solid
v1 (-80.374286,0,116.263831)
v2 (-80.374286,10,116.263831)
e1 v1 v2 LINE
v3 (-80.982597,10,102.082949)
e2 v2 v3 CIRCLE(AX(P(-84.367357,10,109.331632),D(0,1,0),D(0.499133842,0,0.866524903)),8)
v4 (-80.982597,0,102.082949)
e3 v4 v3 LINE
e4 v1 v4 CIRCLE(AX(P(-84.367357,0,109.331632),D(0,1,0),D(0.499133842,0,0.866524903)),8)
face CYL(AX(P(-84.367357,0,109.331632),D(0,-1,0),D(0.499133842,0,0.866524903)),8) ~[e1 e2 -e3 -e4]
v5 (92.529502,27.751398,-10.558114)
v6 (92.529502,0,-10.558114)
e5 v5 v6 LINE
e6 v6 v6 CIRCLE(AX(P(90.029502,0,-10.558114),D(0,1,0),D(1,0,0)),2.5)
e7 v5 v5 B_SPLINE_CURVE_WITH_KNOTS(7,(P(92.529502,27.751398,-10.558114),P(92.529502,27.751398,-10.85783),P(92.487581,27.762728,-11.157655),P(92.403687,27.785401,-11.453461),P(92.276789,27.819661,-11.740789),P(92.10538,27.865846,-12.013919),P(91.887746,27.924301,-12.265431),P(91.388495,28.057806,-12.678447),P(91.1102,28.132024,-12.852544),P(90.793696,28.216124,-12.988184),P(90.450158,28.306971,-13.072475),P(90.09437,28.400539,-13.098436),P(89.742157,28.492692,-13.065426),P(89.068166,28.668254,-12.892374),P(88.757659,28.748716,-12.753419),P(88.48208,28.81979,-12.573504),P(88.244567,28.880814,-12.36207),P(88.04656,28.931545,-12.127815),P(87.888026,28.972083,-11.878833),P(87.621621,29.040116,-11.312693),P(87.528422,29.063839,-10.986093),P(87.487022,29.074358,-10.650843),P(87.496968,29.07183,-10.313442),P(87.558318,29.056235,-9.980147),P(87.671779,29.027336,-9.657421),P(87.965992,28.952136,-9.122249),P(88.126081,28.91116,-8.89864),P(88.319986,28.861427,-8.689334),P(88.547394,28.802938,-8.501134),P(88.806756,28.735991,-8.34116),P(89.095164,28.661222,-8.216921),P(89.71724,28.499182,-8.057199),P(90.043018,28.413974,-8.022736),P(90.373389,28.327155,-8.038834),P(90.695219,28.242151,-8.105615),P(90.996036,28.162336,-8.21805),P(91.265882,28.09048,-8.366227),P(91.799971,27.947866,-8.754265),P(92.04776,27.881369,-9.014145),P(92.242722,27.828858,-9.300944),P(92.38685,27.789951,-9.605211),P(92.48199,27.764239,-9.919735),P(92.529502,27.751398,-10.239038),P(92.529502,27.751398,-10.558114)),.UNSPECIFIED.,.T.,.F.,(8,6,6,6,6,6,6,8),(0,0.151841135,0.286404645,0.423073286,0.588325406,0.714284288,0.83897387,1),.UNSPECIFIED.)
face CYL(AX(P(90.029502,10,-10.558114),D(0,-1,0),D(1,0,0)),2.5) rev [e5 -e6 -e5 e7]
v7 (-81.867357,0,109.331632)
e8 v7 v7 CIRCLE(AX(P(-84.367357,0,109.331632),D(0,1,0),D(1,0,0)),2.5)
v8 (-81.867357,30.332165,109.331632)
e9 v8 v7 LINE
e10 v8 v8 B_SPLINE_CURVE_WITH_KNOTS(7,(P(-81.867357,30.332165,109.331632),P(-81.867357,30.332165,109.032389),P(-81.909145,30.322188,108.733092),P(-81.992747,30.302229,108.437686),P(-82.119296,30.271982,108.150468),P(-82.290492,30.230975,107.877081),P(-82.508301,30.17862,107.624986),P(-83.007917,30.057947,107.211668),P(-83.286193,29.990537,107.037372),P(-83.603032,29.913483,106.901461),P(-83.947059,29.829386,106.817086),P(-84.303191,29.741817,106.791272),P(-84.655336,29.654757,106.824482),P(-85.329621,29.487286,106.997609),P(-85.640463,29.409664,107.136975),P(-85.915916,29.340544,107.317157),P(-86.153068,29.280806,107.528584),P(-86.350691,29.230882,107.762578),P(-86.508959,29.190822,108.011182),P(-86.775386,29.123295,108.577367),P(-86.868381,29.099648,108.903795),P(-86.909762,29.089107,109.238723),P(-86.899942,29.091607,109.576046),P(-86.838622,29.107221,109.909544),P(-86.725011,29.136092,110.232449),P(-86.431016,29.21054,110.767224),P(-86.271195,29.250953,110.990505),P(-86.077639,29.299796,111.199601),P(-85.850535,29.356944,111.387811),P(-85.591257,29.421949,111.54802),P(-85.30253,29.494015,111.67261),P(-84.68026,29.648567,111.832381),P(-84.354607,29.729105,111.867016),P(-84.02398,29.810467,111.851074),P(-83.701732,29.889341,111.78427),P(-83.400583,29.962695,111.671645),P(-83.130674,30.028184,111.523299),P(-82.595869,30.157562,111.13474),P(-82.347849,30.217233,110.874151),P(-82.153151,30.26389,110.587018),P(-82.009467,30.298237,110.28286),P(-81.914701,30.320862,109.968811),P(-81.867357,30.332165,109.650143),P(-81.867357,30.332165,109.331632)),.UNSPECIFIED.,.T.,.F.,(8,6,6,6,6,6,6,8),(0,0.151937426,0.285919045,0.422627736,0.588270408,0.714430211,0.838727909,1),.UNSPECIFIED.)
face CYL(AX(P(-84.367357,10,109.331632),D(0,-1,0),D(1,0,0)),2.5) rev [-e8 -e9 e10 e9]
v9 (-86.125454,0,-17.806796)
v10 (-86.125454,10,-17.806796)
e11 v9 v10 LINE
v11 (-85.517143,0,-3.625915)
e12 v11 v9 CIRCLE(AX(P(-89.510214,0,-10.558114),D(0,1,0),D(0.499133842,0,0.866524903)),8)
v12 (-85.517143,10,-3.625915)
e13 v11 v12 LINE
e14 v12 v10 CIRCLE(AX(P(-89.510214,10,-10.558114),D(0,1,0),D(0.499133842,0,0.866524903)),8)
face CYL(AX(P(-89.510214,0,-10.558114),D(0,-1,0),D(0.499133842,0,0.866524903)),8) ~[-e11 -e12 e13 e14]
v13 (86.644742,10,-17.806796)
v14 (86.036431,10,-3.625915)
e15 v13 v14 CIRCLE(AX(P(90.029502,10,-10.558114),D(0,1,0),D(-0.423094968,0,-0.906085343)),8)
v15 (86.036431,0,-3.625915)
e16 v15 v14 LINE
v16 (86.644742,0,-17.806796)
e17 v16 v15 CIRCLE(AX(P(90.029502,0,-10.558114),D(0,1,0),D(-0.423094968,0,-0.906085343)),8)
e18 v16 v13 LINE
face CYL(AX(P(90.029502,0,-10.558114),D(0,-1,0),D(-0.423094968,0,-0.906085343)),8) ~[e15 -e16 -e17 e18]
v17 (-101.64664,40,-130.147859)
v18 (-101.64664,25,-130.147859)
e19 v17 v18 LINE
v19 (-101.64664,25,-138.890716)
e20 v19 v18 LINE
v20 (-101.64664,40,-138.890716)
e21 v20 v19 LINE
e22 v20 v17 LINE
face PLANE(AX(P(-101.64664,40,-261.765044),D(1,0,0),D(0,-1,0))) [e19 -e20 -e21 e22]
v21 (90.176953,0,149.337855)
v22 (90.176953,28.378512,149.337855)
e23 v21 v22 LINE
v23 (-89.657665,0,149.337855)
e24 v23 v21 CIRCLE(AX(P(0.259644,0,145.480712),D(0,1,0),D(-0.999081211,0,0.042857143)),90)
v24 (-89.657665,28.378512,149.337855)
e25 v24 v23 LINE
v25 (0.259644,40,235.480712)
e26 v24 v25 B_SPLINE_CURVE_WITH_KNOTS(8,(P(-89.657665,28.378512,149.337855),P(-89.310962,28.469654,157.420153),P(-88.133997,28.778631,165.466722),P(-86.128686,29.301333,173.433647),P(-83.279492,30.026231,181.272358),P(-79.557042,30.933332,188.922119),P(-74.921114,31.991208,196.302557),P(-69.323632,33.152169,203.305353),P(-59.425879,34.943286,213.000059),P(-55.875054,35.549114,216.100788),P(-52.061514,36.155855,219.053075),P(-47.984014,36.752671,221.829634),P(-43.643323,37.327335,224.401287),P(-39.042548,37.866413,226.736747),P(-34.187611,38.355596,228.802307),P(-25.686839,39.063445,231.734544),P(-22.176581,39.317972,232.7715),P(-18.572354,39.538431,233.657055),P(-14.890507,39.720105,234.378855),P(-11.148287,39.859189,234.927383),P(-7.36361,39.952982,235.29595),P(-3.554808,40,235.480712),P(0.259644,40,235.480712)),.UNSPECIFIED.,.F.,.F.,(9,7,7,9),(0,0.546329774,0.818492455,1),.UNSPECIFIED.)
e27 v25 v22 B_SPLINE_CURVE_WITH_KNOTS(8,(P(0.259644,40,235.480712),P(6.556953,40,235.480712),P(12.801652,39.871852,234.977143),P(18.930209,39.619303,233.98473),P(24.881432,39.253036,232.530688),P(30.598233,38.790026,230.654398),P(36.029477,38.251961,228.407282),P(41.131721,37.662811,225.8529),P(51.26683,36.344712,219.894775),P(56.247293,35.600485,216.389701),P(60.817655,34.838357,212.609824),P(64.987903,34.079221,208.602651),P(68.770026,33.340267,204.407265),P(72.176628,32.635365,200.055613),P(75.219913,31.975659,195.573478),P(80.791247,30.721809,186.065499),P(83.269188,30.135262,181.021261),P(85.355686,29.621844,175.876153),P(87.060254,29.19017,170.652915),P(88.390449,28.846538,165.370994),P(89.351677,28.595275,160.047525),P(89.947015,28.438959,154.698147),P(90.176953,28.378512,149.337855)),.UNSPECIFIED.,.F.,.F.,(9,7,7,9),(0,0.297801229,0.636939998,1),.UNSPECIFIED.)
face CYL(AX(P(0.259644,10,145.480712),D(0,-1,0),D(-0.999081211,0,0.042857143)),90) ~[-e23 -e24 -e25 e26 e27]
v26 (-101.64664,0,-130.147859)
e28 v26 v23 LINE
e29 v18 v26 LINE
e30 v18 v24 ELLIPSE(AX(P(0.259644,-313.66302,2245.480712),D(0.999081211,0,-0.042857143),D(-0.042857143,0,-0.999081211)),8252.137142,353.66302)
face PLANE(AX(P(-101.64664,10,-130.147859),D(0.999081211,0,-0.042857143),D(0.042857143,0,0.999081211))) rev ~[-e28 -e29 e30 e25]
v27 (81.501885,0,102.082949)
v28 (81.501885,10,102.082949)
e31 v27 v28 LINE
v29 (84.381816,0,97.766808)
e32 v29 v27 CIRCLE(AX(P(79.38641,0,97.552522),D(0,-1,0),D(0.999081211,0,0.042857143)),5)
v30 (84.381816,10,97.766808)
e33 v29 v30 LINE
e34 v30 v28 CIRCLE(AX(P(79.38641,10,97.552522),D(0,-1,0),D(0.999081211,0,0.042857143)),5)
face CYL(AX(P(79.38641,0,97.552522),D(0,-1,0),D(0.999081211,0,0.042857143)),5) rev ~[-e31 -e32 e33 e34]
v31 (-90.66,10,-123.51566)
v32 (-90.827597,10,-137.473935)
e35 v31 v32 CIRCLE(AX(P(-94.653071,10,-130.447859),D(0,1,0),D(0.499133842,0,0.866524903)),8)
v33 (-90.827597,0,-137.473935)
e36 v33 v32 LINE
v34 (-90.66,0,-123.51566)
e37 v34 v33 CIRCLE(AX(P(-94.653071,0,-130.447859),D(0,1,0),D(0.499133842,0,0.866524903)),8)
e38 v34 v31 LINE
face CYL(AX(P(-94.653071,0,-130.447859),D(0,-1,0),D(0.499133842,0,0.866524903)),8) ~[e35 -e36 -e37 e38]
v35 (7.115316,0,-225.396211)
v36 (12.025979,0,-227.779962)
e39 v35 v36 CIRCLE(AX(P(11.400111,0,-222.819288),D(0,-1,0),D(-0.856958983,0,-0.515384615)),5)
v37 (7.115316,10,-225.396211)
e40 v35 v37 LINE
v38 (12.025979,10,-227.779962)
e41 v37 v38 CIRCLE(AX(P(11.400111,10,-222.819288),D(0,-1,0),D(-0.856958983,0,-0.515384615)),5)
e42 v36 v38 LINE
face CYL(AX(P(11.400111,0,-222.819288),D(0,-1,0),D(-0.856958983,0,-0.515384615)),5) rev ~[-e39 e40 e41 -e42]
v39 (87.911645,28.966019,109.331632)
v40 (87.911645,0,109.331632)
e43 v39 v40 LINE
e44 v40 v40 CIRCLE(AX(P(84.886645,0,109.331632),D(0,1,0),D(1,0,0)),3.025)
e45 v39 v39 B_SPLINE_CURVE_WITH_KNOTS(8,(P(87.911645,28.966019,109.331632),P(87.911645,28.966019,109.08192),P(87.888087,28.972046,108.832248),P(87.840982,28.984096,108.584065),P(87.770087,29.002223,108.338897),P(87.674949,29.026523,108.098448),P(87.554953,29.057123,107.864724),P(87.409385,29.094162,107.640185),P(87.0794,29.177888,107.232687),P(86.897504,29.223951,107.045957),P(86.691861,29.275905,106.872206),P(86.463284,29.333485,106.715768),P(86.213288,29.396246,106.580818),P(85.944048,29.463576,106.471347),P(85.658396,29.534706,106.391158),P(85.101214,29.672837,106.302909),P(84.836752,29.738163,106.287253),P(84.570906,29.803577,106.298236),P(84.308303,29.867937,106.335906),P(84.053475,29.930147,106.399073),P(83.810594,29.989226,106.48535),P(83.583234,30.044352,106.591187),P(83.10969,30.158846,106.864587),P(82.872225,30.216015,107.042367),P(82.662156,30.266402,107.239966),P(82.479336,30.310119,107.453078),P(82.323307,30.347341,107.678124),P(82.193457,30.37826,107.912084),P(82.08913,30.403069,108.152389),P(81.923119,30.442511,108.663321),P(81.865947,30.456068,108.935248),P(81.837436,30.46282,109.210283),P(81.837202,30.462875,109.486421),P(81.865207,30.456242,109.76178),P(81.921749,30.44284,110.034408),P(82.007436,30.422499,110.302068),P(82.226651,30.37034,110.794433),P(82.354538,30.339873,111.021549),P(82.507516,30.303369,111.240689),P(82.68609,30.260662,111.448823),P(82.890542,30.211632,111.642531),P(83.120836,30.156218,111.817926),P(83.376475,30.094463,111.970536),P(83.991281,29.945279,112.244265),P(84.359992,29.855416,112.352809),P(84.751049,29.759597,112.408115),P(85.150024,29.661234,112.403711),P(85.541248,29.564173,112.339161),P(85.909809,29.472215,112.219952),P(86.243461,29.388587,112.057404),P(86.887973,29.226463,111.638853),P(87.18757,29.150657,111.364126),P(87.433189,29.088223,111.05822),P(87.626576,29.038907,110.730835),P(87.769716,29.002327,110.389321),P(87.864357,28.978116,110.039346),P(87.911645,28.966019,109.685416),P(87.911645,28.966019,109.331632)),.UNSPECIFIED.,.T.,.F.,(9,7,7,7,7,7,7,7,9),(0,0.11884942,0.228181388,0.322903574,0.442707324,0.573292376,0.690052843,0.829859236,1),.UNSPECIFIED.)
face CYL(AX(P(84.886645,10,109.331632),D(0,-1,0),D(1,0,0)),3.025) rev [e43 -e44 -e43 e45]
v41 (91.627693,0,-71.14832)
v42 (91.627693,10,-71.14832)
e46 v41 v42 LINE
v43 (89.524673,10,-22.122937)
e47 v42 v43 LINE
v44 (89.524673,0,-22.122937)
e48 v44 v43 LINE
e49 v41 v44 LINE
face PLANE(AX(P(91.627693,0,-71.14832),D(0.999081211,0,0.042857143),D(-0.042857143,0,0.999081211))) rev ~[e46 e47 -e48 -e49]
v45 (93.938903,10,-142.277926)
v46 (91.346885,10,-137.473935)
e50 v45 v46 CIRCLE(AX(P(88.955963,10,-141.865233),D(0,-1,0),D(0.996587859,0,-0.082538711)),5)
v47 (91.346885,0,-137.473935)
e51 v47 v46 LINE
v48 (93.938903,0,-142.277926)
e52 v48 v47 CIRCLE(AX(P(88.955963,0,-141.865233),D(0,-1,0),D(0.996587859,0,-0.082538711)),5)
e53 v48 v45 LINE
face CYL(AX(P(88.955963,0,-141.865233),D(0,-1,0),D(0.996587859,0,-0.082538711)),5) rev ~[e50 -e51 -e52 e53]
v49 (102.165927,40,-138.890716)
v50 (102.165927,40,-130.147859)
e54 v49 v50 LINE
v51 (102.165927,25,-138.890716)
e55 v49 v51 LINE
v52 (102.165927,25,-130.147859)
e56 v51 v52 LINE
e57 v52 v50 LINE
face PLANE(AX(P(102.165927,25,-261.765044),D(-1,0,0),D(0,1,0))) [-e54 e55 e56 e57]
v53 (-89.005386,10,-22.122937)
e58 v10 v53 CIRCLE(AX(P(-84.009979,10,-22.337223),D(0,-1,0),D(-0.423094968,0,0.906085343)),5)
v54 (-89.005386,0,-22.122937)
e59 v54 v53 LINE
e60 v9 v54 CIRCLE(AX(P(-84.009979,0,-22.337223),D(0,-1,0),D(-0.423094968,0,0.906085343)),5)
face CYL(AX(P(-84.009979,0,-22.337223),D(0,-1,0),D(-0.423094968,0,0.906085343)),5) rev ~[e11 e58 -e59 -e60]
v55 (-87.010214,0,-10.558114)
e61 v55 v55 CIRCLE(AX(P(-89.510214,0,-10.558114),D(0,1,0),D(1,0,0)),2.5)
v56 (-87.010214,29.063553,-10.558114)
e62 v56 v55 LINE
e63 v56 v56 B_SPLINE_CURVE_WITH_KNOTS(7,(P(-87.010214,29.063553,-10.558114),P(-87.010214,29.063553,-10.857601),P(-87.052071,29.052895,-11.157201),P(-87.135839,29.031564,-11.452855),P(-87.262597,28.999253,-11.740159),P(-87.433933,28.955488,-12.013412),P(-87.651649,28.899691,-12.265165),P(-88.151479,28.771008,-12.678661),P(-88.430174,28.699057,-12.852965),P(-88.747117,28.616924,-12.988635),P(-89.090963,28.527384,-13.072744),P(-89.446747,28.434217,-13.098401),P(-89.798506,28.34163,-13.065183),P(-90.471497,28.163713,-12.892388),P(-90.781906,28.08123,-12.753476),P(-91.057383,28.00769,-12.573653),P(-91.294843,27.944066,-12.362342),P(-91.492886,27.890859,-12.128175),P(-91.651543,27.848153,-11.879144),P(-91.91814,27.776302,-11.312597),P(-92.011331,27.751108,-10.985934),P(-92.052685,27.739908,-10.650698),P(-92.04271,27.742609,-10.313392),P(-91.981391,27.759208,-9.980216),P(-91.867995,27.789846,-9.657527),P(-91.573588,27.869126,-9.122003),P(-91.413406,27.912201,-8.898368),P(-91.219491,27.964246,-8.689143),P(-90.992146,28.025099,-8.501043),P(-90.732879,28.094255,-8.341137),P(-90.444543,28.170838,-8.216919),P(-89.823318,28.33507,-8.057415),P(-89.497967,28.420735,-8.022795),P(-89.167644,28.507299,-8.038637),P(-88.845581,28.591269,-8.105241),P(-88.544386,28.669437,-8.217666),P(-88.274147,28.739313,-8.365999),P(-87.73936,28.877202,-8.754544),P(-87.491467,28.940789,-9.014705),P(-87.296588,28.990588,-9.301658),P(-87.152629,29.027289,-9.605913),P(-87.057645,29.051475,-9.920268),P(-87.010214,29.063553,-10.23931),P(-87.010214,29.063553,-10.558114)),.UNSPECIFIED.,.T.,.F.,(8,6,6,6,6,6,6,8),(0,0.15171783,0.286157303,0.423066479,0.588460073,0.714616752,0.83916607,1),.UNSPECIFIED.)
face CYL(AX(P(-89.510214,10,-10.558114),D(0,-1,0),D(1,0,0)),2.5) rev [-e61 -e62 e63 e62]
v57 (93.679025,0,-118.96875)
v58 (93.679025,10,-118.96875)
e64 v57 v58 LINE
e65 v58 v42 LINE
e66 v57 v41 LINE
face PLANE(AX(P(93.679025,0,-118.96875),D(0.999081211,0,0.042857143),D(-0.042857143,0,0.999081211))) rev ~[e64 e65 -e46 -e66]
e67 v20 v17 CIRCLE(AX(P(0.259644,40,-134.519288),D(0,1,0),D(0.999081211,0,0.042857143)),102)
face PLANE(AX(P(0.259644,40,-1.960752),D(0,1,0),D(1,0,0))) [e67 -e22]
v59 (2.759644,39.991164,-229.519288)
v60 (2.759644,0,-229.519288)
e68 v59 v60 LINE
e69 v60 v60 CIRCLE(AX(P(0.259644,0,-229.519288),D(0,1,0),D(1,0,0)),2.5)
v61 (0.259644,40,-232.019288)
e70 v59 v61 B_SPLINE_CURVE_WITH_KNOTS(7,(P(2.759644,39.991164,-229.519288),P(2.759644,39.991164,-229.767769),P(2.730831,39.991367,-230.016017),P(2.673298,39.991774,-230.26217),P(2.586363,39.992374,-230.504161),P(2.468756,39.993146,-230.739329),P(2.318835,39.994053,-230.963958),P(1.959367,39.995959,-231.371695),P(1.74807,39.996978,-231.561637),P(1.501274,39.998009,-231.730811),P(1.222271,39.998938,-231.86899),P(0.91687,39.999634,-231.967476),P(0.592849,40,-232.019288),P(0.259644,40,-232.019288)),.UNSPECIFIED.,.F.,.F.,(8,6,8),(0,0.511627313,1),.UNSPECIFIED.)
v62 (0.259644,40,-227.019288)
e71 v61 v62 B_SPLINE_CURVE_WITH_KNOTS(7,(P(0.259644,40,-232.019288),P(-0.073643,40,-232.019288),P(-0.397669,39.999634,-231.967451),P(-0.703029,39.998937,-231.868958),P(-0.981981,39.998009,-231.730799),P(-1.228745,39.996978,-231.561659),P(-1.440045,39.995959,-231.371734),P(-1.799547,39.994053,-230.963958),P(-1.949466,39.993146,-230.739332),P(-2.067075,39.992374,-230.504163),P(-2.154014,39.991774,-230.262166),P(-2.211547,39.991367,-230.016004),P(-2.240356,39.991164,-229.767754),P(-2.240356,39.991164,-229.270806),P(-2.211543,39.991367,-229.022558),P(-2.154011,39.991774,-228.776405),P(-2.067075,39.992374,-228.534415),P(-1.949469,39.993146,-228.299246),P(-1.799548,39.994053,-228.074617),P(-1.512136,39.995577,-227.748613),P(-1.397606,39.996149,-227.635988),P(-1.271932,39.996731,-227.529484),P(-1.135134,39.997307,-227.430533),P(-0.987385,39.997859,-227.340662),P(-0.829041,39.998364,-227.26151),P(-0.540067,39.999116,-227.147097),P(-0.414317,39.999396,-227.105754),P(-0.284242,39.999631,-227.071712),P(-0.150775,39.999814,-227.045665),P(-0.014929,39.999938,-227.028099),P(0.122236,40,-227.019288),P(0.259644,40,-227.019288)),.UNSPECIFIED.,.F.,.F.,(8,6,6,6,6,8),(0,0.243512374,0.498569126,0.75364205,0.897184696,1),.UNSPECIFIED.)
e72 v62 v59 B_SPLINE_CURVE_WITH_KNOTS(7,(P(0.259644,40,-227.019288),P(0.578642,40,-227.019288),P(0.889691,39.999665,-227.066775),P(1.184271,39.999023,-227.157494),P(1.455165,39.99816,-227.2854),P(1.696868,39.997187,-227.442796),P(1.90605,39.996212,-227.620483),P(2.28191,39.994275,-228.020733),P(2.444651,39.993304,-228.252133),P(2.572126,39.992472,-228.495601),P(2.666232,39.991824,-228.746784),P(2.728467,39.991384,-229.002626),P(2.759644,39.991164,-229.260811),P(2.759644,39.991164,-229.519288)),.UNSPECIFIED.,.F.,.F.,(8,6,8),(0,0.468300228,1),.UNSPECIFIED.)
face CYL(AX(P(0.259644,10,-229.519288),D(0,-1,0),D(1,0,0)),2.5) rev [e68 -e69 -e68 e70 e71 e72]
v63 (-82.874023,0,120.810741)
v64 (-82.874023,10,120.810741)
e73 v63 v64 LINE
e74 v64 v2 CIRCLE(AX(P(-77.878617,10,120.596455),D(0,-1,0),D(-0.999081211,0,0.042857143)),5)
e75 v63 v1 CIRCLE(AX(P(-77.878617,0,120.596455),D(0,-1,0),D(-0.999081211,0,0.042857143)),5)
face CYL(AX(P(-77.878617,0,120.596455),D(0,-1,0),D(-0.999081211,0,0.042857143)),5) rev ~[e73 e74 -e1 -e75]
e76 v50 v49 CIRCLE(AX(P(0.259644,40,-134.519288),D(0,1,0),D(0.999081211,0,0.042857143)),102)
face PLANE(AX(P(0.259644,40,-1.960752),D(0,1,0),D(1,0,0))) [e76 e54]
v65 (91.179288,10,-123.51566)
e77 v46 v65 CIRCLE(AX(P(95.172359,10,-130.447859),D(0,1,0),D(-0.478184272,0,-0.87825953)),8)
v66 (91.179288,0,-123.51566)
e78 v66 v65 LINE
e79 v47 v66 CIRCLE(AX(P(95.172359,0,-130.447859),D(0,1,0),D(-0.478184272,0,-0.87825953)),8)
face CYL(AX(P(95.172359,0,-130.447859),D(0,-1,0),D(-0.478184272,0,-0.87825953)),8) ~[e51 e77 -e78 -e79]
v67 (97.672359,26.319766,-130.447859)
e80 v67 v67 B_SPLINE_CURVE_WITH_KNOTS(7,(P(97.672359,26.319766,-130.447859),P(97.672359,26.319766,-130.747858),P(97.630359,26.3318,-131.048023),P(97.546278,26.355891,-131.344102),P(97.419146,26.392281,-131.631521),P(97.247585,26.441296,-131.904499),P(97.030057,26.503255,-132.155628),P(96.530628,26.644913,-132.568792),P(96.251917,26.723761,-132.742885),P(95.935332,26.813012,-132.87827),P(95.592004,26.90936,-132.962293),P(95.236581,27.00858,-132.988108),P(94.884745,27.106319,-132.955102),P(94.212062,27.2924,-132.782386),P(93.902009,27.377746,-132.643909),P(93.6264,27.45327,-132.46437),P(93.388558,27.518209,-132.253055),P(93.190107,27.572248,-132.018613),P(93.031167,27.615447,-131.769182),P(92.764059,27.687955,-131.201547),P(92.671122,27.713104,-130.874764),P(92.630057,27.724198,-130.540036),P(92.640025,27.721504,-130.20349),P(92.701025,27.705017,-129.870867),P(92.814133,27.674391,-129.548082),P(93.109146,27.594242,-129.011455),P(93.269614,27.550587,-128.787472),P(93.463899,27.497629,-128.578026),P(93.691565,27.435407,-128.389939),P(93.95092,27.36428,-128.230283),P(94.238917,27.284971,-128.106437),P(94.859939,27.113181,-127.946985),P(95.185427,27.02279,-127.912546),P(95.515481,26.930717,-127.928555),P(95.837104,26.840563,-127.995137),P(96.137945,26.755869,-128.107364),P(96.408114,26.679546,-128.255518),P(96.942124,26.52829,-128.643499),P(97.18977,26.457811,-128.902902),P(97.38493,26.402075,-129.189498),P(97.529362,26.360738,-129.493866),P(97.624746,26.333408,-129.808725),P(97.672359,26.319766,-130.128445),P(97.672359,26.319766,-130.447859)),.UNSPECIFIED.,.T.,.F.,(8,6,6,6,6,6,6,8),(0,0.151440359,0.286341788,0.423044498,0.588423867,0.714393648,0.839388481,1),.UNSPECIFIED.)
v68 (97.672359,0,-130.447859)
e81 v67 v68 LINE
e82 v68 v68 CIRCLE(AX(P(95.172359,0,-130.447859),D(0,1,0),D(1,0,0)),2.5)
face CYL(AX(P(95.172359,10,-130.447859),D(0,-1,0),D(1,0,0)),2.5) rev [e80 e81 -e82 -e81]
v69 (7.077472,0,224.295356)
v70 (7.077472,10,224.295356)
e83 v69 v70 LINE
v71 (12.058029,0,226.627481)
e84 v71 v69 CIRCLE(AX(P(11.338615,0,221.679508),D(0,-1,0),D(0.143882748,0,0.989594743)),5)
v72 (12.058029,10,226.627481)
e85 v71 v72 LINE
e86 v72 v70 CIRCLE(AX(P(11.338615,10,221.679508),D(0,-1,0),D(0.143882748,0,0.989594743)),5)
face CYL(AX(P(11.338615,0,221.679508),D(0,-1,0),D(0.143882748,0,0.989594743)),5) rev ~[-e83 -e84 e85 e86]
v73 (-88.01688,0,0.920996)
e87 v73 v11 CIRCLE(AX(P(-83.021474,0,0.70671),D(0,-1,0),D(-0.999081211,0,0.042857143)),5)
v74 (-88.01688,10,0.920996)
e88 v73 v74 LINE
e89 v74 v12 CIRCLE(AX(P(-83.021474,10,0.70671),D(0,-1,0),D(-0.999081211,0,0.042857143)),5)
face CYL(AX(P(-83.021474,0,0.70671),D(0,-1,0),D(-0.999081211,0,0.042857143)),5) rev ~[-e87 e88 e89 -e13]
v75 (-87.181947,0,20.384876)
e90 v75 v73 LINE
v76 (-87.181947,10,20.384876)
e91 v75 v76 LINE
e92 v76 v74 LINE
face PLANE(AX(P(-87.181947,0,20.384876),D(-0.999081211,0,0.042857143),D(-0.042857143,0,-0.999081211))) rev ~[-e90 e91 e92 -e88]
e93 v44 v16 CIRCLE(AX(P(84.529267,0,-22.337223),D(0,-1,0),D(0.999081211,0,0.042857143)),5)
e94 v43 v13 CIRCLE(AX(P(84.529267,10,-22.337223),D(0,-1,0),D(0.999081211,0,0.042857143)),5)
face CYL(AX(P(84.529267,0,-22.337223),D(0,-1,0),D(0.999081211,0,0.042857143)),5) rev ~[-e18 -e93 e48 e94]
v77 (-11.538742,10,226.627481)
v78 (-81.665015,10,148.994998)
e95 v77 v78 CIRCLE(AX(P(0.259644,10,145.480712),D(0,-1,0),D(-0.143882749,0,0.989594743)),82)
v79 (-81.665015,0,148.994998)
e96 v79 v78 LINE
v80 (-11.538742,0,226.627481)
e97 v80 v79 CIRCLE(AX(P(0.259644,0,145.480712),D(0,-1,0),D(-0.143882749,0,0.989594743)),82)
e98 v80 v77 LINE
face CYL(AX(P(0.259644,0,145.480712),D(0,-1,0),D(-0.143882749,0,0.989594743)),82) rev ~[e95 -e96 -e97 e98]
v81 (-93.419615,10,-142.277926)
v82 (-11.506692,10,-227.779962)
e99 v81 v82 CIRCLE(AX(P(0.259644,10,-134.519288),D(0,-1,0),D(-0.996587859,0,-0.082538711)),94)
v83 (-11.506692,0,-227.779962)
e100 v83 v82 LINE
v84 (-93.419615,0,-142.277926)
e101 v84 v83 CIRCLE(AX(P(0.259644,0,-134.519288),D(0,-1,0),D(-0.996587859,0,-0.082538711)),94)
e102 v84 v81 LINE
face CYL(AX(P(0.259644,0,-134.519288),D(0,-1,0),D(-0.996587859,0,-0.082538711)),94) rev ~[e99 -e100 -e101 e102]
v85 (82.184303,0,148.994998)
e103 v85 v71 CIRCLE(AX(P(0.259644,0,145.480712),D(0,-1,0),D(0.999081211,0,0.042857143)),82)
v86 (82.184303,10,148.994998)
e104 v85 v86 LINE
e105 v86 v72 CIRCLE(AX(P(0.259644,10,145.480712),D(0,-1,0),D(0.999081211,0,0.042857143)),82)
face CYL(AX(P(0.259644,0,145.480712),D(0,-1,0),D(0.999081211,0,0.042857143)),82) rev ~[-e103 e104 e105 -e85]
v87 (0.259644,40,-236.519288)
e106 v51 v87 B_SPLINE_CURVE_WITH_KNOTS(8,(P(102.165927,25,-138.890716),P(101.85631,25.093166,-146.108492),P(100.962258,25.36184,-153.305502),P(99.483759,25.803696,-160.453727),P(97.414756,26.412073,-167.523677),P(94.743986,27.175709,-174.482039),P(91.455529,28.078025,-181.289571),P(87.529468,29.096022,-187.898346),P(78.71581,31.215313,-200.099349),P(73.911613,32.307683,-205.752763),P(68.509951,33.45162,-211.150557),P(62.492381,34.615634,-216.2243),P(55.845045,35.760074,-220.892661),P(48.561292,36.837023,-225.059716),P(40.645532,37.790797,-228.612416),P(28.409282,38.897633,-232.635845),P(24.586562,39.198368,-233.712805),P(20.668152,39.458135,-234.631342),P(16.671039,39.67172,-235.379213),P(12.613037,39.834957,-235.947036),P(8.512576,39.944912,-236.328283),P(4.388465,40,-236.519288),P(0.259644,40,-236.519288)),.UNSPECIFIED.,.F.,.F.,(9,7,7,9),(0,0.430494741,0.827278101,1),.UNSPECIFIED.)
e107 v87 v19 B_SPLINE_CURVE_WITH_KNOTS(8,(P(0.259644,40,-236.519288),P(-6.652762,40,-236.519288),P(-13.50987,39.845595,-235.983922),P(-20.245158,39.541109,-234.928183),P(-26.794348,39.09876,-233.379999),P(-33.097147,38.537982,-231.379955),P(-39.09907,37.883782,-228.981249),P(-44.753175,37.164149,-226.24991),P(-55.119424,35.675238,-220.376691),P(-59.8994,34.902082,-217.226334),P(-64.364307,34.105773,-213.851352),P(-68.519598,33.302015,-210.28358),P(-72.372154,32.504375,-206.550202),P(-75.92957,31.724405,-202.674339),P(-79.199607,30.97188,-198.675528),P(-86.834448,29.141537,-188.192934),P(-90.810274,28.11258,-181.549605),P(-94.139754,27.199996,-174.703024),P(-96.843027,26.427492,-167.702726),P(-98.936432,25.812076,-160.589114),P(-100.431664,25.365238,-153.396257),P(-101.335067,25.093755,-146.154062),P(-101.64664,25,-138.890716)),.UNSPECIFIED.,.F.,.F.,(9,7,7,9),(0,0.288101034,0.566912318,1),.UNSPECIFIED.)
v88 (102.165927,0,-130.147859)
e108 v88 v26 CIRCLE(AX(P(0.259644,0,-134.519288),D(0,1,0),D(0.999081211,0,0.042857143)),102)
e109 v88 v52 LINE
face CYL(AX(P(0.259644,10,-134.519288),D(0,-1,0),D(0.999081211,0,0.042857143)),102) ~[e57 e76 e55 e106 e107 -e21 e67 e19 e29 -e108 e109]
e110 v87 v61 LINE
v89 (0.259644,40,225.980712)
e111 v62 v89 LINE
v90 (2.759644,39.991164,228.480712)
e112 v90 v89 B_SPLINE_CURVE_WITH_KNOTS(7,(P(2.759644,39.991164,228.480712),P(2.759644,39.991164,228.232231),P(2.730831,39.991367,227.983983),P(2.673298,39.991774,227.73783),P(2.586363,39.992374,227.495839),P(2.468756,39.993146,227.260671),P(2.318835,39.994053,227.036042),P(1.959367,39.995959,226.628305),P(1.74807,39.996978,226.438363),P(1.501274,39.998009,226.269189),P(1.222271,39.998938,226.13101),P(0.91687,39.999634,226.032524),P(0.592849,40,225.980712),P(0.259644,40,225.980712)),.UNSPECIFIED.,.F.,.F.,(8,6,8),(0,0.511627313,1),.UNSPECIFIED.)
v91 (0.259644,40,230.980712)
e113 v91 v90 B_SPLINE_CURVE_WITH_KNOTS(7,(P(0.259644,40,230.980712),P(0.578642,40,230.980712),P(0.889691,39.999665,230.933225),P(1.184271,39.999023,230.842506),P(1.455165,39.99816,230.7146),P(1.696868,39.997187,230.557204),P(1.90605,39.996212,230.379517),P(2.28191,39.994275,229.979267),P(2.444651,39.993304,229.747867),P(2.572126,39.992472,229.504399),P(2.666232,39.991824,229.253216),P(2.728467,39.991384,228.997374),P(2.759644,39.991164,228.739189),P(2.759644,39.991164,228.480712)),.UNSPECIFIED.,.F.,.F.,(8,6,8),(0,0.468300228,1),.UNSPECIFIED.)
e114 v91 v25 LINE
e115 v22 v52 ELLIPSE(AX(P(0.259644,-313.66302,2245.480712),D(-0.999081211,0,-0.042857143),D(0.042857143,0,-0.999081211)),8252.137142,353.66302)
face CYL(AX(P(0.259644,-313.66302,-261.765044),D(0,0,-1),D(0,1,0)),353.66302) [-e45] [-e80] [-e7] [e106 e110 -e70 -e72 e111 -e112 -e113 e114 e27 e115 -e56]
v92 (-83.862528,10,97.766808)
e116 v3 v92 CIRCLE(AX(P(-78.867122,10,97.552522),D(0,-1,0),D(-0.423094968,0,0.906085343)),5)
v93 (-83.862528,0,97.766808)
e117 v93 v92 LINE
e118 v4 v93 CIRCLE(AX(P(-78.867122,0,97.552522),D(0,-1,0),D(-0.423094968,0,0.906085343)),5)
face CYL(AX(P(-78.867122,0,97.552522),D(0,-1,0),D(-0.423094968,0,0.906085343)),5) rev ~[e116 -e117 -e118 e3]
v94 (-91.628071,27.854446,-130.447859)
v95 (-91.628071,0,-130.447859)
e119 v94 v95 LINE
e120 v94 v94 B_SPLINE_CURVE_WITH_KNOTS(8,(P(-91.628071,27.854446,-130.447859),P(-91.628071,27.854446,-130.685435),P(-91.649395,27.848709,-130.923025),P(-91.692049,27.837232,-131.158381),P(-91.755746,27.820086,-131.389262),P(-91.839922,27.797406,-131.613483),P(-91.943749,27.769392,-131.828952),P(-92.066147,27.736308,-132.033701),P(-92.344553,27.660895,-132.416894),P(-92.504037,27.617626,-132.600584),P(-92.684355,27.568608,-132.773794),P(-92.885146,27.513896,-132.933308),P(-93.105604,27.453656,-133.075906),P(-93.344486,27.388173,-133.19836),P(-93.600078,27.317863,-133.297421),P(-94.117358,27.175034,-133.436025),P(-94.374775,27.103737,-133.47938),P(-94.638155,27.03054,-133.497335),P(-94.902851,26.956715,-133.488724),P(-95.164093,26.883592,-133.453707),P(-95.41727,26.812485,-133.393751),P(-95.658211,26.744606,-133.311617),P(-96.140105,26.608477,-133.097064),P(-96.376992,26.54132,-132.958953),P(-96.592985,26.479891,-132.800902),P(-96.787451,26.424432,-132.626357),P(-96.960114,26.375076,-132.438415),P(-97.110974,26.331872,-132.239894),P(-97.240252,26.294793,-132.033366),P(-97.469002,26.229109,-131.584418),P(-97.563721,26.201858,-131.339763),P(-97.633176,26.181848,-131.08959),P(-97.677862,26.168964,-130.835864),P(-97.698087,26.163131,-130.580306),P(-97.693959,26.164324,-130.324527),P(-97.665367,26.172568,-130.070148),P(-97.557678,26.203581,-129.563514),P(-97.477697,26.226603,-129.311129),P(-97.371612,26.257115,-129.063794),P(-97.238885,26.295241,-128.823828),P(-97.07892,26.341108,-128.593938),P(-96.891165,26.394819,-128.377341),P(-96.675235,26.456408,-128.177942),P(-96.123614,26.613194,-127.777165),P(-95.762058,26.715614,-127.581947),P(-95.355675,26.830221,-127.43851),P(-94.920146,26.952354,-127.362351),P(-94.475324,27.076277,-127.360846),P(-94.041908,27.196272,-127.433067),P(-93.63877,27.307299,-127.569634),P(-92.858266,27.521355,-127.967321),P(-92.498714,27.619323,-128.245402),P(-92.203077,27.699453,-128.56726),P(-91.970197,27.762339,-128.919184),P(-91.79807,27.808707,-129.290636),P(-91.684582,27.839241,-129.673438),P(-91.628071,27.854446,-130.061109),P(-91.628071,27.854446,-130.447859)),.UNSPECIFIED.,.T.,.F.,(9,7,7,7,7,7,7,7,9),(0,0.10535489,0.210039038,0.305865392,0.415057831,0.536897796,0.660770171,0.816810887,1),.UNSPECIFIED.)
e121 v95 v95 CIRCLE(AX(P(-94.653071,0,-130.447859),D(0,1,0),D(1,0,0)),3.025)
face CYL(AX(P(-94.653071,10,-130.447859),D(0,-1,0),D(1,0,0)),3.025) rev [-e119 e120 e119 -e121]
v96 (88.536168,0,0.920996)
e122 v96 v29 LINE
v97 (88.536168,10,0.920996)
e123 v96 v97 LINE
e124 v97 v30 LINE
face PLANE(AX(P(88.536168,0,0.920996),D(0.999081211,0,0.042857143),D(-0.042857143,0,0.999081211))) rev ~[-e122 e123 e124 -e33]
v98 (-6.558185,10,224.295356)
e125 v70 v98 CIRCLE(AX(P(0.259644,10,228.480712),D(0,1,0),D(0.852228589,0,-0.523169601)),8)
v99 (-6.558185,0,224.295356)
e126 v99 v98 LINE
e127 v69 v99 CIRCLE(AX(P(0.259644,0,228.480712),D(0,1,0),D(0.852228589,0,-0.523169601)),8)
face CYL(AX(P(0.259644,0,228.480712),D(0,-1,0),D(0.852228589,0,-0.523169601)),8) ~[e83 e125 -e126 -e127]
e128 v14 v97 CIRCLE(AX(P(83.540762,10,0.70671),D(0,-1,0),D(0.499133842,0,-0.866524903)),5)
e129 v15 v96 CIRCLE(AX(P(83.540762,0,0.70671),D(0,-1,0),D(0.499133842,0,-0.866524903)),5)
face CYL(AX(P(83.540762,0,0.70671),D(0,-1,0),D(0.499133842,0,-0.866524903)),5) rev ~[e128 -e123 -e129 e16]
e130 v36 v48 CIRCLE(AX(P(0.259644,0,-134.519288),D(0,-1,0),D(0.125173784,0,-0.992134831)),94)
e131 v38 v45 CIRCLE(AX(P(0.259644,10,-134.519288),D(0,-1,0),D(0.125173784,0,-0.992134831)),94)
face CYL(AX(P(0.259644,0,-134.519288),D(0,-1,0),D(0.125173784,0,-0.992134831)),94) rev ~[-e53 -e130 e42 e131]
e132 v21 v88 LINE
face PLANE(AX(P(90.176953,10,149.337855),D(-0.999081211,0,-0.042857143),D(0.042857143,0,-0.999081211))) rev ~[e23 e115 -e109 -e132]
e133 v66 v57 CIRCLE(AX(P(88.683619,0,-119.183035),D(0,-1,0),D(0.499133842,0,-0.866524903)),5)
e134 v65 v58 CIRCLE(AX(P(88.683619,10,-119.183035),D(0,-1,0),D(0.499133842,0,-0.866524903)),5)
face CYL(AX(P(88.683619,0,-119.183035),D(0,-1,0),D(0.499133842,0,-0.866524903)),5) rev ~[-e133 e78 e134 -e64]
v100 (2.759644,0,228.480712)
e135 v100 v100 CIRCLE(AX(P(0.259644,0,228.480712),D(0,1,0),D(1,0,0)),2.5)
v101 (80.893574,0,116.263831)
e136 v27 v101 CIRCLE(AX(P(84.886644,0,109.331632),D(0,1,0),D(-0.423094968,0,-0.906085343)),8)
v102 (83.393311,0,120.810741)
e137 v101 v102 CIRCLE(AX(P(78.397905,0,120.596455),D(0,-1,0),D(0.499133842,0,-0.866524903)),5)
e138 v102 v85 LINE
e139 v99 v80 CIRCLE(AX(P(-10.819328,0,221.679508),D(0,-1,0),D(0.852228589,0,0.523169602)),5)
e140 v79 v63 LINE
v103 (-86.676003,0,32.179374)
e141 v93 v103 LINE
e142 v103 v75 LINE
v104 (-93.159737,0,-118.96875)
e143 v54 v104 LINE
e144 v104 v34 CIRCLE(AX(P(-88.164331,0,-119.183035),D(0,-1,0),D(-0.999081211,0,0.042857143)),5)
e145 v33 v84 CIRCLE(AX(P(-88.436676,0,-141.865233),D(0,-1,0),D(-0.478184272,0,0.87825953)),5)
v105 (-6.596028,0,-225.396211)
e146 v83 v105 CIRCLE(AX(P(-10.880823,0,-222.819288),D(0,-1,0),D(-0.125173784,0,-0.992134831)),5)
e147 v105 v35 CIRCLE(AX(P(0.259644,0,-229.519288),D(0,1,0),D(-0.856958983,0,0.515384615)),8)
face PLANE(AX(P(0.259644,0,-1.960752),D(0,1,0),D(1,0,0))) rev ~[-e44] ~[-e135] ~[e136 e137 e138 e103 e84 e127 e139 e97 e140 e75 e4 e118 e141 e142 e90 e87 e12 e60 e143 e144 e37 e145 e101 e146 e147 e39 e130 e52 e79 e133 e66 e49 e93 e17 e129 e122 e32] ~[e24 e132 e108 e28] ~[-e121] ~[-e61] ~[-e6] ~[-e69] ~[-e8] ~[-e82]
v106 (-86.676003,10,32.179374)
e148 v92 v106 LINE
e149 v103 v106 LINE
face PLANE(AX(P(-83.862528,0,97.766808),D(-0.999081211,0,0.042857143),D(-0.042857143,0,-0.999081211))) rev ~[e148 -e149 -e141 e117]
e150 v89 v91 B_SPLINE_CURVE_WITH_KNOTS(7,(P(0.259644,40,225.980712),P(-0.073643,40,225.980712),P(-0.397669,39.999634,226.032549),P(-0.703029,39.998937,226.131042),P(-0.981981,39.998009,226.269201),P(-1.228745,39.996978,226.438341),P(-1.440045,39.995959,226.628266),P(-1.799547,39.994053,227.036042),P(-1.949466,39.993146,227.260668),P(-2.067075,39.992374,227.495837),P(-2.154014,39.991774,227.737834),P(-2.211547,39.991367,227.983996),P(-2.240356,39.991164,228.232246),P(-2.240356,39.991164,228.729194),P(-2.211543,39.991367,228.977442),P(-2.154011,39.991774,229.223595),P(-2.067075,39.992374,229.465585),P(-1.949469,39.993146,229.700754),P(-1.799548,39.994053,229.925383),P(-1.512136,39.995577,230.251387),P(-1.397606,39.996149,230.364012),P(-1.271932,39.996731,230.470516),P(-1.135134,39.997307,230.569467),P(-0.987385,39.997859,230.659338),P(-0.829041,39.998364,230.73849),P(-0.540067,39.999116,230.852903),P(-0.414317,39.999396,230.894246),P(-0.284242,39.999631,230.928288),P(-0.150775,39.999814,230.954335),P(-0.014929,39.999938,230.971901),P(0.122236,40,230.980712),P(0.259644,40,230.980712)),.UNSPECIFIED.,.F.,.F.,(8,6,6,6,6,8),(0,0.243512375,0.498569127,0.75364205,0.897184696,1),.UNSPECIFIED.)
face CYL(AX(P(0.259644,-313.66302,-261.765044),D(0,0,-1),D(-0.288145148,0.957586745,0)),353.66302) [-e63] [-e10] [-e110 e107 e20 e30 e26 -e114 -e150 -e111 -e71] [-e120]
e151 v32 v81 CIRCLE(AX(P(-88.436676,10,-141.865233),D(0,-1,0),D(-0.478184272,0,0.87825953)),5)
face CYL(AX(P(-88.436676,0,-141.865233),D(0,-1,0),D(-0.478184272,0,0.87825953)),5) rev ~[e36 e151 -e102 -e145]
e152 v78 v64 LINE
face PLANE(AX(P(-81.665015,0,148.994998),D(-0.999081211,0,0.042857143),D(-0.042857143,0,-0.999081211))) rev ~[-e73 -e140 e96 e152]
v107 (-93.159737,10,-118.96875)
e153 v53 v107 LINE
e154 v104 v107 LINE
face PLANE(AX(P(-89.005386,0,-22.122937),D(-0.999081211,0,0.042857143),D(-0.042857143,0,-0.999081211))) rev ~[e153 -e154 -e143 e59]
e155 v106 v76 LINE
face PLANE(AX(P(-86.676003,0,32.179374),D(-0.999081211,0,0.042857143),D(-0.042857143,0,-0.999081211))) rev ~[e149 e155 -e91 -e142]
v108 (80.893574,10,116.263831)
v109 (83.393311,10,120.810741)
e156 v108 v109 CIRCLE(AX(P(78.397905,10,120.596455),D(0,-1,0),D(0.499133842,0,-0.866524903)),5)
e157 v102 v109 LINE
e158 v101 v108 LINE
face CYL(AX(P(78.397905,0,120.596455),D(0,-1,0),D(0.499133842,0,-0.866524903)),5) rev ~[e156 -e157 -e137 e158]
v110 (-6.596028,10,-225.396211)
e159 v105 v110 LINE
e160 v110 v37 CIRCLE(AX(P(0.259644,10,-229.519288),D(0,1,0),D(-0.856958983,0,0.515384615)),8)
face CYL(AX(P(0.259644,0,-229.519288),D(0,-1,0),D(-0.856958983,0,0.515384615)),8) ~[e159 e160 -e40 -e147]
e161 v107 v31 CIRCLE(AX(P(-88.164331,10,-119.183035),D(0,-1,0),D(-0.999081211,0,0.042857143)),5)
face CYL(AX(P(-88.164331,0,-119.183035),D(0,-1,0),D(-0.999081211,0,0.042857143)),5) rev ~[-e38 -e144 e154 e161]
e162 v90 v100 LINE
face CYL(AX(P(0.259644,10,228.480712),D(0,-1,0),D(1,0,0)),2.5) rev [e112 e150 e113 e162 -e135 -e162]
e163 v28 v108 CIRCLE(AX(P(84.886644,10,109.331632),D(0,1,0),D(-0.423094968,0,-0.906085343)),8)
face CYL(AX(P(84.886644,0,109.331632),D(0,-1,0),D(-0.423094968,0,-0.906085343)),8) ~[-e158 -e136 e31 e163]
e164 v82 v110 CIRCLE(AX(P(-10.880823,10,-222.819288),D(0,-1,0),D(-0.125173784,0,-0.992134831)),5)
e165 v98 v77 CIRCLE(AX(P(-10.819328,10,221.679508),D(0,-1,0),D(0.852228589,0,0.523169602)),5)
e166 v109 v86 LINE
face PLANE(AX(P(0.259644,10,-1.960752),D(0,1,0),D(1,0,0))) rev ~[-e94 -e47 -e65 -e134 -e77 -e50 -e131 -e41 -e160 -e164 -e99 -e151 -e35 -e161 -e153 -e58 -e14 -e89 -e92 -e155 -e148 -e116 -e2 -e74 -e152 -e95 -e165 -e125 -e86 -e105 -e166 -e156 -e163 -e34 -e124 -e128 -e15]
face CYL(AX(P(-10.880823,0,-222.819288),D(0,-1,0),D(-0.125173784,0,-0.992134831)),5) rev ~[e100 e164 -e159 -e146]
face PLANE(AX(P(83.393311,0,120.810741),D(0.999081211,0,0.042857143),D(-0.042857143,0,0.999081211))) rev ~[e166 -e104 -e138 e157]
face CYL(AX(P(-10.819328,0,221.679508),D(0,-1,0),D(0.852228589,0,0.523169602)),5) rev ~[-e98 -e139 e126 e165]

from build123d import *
from build123d.topology import SkipClean

# Parameters (mm, degrees)
SKETCH1_R               = 2.5
SKETCH1_R_2             = 3.025
BOSS_EXTRUDE1_DEPTH     = 10
BOSS_EXTRUDE2_START     = 10
SKETCH1_3_R             = 2.5
SKETCH1_3_R_2           = 3.025
BOSS_EXTRUDE2_DEPTH     = 30
CUT_EXTRUDE1_DEPTH      = 261.765043932
CUT_EXTRUDE1_DEPTH_BACK = 261.765043932


with BuildPart() as part:
    # Sketch1 → Boss-Extrude1 (new body)
    with BuildSketch(Plane(origin=(0, 0, 0), x_dir=(1, 0, 0), z_dir=(0, 1, 0))):
        with BuildLine():
            ThreePointArc((-89.657665168, -149.337855292), (0.259643783, -235.480712435), (90.176952733, -149.337855292))
            Line((90.176952733, -149.337855292), (102.16592726, 130.147858994))
            ThreePointArc((102.16592726, 130.147858994), (0.259643783, 236.519287565), (-101.646639695, 130.147858994))
            Line((-101.646639695, 130.147858994), (-89.657665168, -149.337855292))
        make_face()
        with Locations((0.259643783, -228.480712435)):
            Circle(SKETCH1_R, mode=Mode.SUBTRACT)
        with Locations((-84.367356936, -109.331631542)):
            Circle(SKETCH1_R, mode=Mode.SUBTRACT)
        with Locations((84.886644501, -109.331631542)):
            Circle(SKETCH1_R_2, mode=Mode.SUBTRACT)
        with Locations((-89.510214078, 10.558113726)):
            Circle(SKETCH1_R, mode=Mode.SUBTRACT)
        with Locations((-94.653071221, 130.447858994)):
            Circle(SKETCH1_R_2, mode=Mode.SUBTRACT)
        with BuildLine():
            Line((-89.00538555, 22.122937467), (-93.159737328, 118.968749538))
            ThreePointArc((-93.159737328, 118.968749538), (-92.545843606, 121.591841947), (-90.660000485, 123.515659768))
            ThreePointArc((-90.660000485, 123.515659768), (-86.653647828, 130.543907811), (-90.827597046, 137.473935234))
            ThreePointArc((-90.827597046, 137.473935234), (-92.837020914, 139.491004193), (-93.419614983, 142.277926441))
            ThreePointArc((-93.419614983, 142.277926441), (-67.617766725, 199.547413348), (-11.506691914, 227.779961722))
            ThreePointArc((-11.506691914, 227.779961722), (-8.697361943, 227.31734246), (-6.59602808, 225.396210642))
            ThreePointArc((-6.59602808, 225.396210642), (0.259643783, 221.519287565), (7.115315645, 225.396210642))
            ThreePointArc((7.115315645, 225.396210642), (9.216649508, 227.31734246), (12.025979479, 227.779961722))
            ThreePointArc((12.025979479, 227.779961722), (68.13705429, 199.547413348), (93.938902548, 142.277926441))
            ThreePointArc((93.938902548, 142.277926441), (93.356308479, 139.491004193), (91.346884611, 137.473935234))
            ThreePointArc((91.346884611, 137.473935234), (87.172935393, 130.543907811), (91.17928805, 123.515659768))
            ThreePointArc((91.17928805, 123.515659768), (93.065131171, 121.591841947), (93.679024893, 118.968749538))
            Line((93.679024893, 118.968749538), (91.627693163, 71.148319825))
            Line((91.627693163, 71.148319825), (89.524673116, 22.122937467))
            ThreePointArc((89.524673116, 22.122937467), (88.688404599, 19.562052023), (86.644741901, 17.806796467))
            ThreePointArc((86.644741901, 17.806796467), (82.036851959, 10.900970869), (86.036430907, 3.625914501))
            ThreePointArc((86.036430907, 3.625914501), (87.922274029, 1.702096679), (88.53616775, -0.920995729))
            Line((88.53616775, -0.920995729), (84.381815973, -97.766807801))
            ThreePointArc((84.381815973, -97.766807801), (83.545547456, -100.327693245), (81.501884759, -102.082948801))
            ThreePointArc((81.501884759, -102.082948801), (76.893994816, -108.988774399), (80.893573765, -116.263830767))
            ThreePointArc((80.893573765, -116.263830767), (82.779416886, -118.187648589), (83.393310607, -120.810740997))
            Line((83.393310607, -120.810740997), (82.184303049, -148.994998149))
            ThreePointArc((82.184303049, -148.994998149), (61.109482621, -200.447039521), (12.058029185, -226.627481329))
            ThreePointArc((12.058029185, -226.627481329), (9.218317346, -226.207678989), (7.077472495, -224.295355623))
            ThreePointArc((7.077472495, -224.295355623), (0.259643783, -220.480712435), (-6.55818493, -224.295355623))
            ThreePointArc((-6.55818493, -224.295355623), (-8.699029781, -226.207678989), (-11.53874162, -226.627481329))
            ThreePointArc((-11.53874162, -226.627481329), (-60.590195056, -200.447039521), (-81.665015484, -148.994998149))
            Line((-81.665015484, -148.994998149), (-82.874023042, -120.810740997))
            ThreePointArc((-82.874023042, -120.810740997), (-82.260129321, -118.187648589), (-80.3742862, -116.263830767))
            ThreePointArc((-80.3742862, -116.263830767), (-76.374707251, -108.988774399), (-80.982597194, -102.082948801))
            ThreePointArc((-80.982597194, -102.082948801), (-83.026259891, -100.327693245), (-83.862528408, -97.766807801))
            Line((-83.862528408, -97.766807801), (-86.67600341, -32.179374194))
            Line((-86.67600341, -32.179374194), (-87.181946752, -20.384876194))
            Line((-87.181946752, -20.384876194), (-88.016880185, -0.920995729))
            ThreePointArc((-88.016880185, -0.920995729), (-87.402986464, 1.702096679), (-85.517143342, 3.625914501))
            ThreePointArc((-85.517143342, 3.625914501), (-81.517564394, 10.900970869), (-86.125454336, 17.806796467))
            ThreePointArc((-86.125454336, 17.806796467), (-88.169117034, 19.562052023), (-89.00538555, 22.122937467))
        make_face(mode=Mode.SUBTRACT)
        with Locations((90.029501643, 10.558113726)):
            Circle(SKETCH1_R, mode=Mode.SUBTRACT)
        with Locations((0.259643783, 229.519287565)):
            Circle(SKETCH1_R, mode=Mode.SUBTRACT)
        with Locations((95.172358786, 130.447858994)):
            Circle(SKETCH1_R, mode=Mode.SUBTRACT)
    extrude(amount=BOSS_EXTRUDE1_DEPTH)

    # Sketch1<3> → Boss-Extrude2 (add)
    with BuildSketch(Plane(origin=(0, 0, 0), x_dir=(1, 0, 0), z_dir=(0, 1, 0)).offset(BOSS_EXTRUDE2_START)):
        with BuildLine():
            ThreePointArc((-89.657665168, -149.337855292), (0.259643783, -235.480712435), (90.176952733, -149.337855292))
            Line((90.176952733, -149.337855292), (102.16592726, 130.147858994))
            ThreePointArc((102.16592726, 130.147858994), (0.259643783, 236.519287565), (-101.646639695, 130.147858994))
            Line((-101.646639695, 130.147858994), (-89.657665168, -149.337855292))
        make_face()
        with Locations((0.259643783, -228.480712435)):
            Circle(SKETCH1_3_R, mode=Mode.SUBTRACT)
        with Locations((-84.367356936, -109.331631542)):
            Circle(SKETCH1_3_R, mode=Mode.SUBTRACT)
        with Locations((84.886644501, -109.331631542)):
            Circle(SKETCH1_3_R_2, mode=Mode.SUBTRACT)
        with Locations((-89.510214078, 10.558113726)):
            Circle(SKETCH1_3_R, mode=Mode.SUBTRACT)
        with Locations((-94.653071221, 130.447858994)):
            Circle(SKETCH1_3_R_2, mode=Mode.SUBTRACT)
        with Locations((90.029501643, 10.558113726)):
            Circle(SKETCH1_3_R, mode=Mode.SUBTRACT)
        with Locations((0.259643783, 229.519287565)):
            Circle(SKETCH1_3_R, mode=Mode.SUBTRACT)
        with Locations((95.172358786, 130.447858994)):
            Circle(SKETCH1_3_R, mode=Mode.SUBTRACT)
    extrude(amount=BOSS_EXTRUDE2_DEPTH)

    # Sketch2 → Cut-Extrude1 (cut, two sides: drawn at the far end of the back side and taken through both)
    with SkipClean():  # the faces are left unmerged after this step: merging them gives an invalid solid
        with BuildSketch(Plane.XY.offset(-CUT_EXTRUDE1_DEPTH_BACK)):
            with BuildLine():
                Line((102.16592726, 40), (0.259643782, 40))
                ThreePointArc((0.259643782, 40), (51.761805417, 36.229905144), (102.16592726, 25))
                Line((102.16592726, 25), (102.16592726, 40))
            make_face()
            with BuildLine():
                Line((-101.646639695, 40), (-101.646639695, 25))
                ThreePointArc((-101.646639695, 25), (-51.242517852, 36.229905144), (0.259643782, 40))
                Line((0.259643782, 40), (-101.646639695, 40))
            make_face()
        extrude(amount=CUT_EXTRUDE1_DEPTH + CUT_EXTRUDE1_DEPTH_BACK, mode=Mode.SUBTRACT)


solid = part.part
